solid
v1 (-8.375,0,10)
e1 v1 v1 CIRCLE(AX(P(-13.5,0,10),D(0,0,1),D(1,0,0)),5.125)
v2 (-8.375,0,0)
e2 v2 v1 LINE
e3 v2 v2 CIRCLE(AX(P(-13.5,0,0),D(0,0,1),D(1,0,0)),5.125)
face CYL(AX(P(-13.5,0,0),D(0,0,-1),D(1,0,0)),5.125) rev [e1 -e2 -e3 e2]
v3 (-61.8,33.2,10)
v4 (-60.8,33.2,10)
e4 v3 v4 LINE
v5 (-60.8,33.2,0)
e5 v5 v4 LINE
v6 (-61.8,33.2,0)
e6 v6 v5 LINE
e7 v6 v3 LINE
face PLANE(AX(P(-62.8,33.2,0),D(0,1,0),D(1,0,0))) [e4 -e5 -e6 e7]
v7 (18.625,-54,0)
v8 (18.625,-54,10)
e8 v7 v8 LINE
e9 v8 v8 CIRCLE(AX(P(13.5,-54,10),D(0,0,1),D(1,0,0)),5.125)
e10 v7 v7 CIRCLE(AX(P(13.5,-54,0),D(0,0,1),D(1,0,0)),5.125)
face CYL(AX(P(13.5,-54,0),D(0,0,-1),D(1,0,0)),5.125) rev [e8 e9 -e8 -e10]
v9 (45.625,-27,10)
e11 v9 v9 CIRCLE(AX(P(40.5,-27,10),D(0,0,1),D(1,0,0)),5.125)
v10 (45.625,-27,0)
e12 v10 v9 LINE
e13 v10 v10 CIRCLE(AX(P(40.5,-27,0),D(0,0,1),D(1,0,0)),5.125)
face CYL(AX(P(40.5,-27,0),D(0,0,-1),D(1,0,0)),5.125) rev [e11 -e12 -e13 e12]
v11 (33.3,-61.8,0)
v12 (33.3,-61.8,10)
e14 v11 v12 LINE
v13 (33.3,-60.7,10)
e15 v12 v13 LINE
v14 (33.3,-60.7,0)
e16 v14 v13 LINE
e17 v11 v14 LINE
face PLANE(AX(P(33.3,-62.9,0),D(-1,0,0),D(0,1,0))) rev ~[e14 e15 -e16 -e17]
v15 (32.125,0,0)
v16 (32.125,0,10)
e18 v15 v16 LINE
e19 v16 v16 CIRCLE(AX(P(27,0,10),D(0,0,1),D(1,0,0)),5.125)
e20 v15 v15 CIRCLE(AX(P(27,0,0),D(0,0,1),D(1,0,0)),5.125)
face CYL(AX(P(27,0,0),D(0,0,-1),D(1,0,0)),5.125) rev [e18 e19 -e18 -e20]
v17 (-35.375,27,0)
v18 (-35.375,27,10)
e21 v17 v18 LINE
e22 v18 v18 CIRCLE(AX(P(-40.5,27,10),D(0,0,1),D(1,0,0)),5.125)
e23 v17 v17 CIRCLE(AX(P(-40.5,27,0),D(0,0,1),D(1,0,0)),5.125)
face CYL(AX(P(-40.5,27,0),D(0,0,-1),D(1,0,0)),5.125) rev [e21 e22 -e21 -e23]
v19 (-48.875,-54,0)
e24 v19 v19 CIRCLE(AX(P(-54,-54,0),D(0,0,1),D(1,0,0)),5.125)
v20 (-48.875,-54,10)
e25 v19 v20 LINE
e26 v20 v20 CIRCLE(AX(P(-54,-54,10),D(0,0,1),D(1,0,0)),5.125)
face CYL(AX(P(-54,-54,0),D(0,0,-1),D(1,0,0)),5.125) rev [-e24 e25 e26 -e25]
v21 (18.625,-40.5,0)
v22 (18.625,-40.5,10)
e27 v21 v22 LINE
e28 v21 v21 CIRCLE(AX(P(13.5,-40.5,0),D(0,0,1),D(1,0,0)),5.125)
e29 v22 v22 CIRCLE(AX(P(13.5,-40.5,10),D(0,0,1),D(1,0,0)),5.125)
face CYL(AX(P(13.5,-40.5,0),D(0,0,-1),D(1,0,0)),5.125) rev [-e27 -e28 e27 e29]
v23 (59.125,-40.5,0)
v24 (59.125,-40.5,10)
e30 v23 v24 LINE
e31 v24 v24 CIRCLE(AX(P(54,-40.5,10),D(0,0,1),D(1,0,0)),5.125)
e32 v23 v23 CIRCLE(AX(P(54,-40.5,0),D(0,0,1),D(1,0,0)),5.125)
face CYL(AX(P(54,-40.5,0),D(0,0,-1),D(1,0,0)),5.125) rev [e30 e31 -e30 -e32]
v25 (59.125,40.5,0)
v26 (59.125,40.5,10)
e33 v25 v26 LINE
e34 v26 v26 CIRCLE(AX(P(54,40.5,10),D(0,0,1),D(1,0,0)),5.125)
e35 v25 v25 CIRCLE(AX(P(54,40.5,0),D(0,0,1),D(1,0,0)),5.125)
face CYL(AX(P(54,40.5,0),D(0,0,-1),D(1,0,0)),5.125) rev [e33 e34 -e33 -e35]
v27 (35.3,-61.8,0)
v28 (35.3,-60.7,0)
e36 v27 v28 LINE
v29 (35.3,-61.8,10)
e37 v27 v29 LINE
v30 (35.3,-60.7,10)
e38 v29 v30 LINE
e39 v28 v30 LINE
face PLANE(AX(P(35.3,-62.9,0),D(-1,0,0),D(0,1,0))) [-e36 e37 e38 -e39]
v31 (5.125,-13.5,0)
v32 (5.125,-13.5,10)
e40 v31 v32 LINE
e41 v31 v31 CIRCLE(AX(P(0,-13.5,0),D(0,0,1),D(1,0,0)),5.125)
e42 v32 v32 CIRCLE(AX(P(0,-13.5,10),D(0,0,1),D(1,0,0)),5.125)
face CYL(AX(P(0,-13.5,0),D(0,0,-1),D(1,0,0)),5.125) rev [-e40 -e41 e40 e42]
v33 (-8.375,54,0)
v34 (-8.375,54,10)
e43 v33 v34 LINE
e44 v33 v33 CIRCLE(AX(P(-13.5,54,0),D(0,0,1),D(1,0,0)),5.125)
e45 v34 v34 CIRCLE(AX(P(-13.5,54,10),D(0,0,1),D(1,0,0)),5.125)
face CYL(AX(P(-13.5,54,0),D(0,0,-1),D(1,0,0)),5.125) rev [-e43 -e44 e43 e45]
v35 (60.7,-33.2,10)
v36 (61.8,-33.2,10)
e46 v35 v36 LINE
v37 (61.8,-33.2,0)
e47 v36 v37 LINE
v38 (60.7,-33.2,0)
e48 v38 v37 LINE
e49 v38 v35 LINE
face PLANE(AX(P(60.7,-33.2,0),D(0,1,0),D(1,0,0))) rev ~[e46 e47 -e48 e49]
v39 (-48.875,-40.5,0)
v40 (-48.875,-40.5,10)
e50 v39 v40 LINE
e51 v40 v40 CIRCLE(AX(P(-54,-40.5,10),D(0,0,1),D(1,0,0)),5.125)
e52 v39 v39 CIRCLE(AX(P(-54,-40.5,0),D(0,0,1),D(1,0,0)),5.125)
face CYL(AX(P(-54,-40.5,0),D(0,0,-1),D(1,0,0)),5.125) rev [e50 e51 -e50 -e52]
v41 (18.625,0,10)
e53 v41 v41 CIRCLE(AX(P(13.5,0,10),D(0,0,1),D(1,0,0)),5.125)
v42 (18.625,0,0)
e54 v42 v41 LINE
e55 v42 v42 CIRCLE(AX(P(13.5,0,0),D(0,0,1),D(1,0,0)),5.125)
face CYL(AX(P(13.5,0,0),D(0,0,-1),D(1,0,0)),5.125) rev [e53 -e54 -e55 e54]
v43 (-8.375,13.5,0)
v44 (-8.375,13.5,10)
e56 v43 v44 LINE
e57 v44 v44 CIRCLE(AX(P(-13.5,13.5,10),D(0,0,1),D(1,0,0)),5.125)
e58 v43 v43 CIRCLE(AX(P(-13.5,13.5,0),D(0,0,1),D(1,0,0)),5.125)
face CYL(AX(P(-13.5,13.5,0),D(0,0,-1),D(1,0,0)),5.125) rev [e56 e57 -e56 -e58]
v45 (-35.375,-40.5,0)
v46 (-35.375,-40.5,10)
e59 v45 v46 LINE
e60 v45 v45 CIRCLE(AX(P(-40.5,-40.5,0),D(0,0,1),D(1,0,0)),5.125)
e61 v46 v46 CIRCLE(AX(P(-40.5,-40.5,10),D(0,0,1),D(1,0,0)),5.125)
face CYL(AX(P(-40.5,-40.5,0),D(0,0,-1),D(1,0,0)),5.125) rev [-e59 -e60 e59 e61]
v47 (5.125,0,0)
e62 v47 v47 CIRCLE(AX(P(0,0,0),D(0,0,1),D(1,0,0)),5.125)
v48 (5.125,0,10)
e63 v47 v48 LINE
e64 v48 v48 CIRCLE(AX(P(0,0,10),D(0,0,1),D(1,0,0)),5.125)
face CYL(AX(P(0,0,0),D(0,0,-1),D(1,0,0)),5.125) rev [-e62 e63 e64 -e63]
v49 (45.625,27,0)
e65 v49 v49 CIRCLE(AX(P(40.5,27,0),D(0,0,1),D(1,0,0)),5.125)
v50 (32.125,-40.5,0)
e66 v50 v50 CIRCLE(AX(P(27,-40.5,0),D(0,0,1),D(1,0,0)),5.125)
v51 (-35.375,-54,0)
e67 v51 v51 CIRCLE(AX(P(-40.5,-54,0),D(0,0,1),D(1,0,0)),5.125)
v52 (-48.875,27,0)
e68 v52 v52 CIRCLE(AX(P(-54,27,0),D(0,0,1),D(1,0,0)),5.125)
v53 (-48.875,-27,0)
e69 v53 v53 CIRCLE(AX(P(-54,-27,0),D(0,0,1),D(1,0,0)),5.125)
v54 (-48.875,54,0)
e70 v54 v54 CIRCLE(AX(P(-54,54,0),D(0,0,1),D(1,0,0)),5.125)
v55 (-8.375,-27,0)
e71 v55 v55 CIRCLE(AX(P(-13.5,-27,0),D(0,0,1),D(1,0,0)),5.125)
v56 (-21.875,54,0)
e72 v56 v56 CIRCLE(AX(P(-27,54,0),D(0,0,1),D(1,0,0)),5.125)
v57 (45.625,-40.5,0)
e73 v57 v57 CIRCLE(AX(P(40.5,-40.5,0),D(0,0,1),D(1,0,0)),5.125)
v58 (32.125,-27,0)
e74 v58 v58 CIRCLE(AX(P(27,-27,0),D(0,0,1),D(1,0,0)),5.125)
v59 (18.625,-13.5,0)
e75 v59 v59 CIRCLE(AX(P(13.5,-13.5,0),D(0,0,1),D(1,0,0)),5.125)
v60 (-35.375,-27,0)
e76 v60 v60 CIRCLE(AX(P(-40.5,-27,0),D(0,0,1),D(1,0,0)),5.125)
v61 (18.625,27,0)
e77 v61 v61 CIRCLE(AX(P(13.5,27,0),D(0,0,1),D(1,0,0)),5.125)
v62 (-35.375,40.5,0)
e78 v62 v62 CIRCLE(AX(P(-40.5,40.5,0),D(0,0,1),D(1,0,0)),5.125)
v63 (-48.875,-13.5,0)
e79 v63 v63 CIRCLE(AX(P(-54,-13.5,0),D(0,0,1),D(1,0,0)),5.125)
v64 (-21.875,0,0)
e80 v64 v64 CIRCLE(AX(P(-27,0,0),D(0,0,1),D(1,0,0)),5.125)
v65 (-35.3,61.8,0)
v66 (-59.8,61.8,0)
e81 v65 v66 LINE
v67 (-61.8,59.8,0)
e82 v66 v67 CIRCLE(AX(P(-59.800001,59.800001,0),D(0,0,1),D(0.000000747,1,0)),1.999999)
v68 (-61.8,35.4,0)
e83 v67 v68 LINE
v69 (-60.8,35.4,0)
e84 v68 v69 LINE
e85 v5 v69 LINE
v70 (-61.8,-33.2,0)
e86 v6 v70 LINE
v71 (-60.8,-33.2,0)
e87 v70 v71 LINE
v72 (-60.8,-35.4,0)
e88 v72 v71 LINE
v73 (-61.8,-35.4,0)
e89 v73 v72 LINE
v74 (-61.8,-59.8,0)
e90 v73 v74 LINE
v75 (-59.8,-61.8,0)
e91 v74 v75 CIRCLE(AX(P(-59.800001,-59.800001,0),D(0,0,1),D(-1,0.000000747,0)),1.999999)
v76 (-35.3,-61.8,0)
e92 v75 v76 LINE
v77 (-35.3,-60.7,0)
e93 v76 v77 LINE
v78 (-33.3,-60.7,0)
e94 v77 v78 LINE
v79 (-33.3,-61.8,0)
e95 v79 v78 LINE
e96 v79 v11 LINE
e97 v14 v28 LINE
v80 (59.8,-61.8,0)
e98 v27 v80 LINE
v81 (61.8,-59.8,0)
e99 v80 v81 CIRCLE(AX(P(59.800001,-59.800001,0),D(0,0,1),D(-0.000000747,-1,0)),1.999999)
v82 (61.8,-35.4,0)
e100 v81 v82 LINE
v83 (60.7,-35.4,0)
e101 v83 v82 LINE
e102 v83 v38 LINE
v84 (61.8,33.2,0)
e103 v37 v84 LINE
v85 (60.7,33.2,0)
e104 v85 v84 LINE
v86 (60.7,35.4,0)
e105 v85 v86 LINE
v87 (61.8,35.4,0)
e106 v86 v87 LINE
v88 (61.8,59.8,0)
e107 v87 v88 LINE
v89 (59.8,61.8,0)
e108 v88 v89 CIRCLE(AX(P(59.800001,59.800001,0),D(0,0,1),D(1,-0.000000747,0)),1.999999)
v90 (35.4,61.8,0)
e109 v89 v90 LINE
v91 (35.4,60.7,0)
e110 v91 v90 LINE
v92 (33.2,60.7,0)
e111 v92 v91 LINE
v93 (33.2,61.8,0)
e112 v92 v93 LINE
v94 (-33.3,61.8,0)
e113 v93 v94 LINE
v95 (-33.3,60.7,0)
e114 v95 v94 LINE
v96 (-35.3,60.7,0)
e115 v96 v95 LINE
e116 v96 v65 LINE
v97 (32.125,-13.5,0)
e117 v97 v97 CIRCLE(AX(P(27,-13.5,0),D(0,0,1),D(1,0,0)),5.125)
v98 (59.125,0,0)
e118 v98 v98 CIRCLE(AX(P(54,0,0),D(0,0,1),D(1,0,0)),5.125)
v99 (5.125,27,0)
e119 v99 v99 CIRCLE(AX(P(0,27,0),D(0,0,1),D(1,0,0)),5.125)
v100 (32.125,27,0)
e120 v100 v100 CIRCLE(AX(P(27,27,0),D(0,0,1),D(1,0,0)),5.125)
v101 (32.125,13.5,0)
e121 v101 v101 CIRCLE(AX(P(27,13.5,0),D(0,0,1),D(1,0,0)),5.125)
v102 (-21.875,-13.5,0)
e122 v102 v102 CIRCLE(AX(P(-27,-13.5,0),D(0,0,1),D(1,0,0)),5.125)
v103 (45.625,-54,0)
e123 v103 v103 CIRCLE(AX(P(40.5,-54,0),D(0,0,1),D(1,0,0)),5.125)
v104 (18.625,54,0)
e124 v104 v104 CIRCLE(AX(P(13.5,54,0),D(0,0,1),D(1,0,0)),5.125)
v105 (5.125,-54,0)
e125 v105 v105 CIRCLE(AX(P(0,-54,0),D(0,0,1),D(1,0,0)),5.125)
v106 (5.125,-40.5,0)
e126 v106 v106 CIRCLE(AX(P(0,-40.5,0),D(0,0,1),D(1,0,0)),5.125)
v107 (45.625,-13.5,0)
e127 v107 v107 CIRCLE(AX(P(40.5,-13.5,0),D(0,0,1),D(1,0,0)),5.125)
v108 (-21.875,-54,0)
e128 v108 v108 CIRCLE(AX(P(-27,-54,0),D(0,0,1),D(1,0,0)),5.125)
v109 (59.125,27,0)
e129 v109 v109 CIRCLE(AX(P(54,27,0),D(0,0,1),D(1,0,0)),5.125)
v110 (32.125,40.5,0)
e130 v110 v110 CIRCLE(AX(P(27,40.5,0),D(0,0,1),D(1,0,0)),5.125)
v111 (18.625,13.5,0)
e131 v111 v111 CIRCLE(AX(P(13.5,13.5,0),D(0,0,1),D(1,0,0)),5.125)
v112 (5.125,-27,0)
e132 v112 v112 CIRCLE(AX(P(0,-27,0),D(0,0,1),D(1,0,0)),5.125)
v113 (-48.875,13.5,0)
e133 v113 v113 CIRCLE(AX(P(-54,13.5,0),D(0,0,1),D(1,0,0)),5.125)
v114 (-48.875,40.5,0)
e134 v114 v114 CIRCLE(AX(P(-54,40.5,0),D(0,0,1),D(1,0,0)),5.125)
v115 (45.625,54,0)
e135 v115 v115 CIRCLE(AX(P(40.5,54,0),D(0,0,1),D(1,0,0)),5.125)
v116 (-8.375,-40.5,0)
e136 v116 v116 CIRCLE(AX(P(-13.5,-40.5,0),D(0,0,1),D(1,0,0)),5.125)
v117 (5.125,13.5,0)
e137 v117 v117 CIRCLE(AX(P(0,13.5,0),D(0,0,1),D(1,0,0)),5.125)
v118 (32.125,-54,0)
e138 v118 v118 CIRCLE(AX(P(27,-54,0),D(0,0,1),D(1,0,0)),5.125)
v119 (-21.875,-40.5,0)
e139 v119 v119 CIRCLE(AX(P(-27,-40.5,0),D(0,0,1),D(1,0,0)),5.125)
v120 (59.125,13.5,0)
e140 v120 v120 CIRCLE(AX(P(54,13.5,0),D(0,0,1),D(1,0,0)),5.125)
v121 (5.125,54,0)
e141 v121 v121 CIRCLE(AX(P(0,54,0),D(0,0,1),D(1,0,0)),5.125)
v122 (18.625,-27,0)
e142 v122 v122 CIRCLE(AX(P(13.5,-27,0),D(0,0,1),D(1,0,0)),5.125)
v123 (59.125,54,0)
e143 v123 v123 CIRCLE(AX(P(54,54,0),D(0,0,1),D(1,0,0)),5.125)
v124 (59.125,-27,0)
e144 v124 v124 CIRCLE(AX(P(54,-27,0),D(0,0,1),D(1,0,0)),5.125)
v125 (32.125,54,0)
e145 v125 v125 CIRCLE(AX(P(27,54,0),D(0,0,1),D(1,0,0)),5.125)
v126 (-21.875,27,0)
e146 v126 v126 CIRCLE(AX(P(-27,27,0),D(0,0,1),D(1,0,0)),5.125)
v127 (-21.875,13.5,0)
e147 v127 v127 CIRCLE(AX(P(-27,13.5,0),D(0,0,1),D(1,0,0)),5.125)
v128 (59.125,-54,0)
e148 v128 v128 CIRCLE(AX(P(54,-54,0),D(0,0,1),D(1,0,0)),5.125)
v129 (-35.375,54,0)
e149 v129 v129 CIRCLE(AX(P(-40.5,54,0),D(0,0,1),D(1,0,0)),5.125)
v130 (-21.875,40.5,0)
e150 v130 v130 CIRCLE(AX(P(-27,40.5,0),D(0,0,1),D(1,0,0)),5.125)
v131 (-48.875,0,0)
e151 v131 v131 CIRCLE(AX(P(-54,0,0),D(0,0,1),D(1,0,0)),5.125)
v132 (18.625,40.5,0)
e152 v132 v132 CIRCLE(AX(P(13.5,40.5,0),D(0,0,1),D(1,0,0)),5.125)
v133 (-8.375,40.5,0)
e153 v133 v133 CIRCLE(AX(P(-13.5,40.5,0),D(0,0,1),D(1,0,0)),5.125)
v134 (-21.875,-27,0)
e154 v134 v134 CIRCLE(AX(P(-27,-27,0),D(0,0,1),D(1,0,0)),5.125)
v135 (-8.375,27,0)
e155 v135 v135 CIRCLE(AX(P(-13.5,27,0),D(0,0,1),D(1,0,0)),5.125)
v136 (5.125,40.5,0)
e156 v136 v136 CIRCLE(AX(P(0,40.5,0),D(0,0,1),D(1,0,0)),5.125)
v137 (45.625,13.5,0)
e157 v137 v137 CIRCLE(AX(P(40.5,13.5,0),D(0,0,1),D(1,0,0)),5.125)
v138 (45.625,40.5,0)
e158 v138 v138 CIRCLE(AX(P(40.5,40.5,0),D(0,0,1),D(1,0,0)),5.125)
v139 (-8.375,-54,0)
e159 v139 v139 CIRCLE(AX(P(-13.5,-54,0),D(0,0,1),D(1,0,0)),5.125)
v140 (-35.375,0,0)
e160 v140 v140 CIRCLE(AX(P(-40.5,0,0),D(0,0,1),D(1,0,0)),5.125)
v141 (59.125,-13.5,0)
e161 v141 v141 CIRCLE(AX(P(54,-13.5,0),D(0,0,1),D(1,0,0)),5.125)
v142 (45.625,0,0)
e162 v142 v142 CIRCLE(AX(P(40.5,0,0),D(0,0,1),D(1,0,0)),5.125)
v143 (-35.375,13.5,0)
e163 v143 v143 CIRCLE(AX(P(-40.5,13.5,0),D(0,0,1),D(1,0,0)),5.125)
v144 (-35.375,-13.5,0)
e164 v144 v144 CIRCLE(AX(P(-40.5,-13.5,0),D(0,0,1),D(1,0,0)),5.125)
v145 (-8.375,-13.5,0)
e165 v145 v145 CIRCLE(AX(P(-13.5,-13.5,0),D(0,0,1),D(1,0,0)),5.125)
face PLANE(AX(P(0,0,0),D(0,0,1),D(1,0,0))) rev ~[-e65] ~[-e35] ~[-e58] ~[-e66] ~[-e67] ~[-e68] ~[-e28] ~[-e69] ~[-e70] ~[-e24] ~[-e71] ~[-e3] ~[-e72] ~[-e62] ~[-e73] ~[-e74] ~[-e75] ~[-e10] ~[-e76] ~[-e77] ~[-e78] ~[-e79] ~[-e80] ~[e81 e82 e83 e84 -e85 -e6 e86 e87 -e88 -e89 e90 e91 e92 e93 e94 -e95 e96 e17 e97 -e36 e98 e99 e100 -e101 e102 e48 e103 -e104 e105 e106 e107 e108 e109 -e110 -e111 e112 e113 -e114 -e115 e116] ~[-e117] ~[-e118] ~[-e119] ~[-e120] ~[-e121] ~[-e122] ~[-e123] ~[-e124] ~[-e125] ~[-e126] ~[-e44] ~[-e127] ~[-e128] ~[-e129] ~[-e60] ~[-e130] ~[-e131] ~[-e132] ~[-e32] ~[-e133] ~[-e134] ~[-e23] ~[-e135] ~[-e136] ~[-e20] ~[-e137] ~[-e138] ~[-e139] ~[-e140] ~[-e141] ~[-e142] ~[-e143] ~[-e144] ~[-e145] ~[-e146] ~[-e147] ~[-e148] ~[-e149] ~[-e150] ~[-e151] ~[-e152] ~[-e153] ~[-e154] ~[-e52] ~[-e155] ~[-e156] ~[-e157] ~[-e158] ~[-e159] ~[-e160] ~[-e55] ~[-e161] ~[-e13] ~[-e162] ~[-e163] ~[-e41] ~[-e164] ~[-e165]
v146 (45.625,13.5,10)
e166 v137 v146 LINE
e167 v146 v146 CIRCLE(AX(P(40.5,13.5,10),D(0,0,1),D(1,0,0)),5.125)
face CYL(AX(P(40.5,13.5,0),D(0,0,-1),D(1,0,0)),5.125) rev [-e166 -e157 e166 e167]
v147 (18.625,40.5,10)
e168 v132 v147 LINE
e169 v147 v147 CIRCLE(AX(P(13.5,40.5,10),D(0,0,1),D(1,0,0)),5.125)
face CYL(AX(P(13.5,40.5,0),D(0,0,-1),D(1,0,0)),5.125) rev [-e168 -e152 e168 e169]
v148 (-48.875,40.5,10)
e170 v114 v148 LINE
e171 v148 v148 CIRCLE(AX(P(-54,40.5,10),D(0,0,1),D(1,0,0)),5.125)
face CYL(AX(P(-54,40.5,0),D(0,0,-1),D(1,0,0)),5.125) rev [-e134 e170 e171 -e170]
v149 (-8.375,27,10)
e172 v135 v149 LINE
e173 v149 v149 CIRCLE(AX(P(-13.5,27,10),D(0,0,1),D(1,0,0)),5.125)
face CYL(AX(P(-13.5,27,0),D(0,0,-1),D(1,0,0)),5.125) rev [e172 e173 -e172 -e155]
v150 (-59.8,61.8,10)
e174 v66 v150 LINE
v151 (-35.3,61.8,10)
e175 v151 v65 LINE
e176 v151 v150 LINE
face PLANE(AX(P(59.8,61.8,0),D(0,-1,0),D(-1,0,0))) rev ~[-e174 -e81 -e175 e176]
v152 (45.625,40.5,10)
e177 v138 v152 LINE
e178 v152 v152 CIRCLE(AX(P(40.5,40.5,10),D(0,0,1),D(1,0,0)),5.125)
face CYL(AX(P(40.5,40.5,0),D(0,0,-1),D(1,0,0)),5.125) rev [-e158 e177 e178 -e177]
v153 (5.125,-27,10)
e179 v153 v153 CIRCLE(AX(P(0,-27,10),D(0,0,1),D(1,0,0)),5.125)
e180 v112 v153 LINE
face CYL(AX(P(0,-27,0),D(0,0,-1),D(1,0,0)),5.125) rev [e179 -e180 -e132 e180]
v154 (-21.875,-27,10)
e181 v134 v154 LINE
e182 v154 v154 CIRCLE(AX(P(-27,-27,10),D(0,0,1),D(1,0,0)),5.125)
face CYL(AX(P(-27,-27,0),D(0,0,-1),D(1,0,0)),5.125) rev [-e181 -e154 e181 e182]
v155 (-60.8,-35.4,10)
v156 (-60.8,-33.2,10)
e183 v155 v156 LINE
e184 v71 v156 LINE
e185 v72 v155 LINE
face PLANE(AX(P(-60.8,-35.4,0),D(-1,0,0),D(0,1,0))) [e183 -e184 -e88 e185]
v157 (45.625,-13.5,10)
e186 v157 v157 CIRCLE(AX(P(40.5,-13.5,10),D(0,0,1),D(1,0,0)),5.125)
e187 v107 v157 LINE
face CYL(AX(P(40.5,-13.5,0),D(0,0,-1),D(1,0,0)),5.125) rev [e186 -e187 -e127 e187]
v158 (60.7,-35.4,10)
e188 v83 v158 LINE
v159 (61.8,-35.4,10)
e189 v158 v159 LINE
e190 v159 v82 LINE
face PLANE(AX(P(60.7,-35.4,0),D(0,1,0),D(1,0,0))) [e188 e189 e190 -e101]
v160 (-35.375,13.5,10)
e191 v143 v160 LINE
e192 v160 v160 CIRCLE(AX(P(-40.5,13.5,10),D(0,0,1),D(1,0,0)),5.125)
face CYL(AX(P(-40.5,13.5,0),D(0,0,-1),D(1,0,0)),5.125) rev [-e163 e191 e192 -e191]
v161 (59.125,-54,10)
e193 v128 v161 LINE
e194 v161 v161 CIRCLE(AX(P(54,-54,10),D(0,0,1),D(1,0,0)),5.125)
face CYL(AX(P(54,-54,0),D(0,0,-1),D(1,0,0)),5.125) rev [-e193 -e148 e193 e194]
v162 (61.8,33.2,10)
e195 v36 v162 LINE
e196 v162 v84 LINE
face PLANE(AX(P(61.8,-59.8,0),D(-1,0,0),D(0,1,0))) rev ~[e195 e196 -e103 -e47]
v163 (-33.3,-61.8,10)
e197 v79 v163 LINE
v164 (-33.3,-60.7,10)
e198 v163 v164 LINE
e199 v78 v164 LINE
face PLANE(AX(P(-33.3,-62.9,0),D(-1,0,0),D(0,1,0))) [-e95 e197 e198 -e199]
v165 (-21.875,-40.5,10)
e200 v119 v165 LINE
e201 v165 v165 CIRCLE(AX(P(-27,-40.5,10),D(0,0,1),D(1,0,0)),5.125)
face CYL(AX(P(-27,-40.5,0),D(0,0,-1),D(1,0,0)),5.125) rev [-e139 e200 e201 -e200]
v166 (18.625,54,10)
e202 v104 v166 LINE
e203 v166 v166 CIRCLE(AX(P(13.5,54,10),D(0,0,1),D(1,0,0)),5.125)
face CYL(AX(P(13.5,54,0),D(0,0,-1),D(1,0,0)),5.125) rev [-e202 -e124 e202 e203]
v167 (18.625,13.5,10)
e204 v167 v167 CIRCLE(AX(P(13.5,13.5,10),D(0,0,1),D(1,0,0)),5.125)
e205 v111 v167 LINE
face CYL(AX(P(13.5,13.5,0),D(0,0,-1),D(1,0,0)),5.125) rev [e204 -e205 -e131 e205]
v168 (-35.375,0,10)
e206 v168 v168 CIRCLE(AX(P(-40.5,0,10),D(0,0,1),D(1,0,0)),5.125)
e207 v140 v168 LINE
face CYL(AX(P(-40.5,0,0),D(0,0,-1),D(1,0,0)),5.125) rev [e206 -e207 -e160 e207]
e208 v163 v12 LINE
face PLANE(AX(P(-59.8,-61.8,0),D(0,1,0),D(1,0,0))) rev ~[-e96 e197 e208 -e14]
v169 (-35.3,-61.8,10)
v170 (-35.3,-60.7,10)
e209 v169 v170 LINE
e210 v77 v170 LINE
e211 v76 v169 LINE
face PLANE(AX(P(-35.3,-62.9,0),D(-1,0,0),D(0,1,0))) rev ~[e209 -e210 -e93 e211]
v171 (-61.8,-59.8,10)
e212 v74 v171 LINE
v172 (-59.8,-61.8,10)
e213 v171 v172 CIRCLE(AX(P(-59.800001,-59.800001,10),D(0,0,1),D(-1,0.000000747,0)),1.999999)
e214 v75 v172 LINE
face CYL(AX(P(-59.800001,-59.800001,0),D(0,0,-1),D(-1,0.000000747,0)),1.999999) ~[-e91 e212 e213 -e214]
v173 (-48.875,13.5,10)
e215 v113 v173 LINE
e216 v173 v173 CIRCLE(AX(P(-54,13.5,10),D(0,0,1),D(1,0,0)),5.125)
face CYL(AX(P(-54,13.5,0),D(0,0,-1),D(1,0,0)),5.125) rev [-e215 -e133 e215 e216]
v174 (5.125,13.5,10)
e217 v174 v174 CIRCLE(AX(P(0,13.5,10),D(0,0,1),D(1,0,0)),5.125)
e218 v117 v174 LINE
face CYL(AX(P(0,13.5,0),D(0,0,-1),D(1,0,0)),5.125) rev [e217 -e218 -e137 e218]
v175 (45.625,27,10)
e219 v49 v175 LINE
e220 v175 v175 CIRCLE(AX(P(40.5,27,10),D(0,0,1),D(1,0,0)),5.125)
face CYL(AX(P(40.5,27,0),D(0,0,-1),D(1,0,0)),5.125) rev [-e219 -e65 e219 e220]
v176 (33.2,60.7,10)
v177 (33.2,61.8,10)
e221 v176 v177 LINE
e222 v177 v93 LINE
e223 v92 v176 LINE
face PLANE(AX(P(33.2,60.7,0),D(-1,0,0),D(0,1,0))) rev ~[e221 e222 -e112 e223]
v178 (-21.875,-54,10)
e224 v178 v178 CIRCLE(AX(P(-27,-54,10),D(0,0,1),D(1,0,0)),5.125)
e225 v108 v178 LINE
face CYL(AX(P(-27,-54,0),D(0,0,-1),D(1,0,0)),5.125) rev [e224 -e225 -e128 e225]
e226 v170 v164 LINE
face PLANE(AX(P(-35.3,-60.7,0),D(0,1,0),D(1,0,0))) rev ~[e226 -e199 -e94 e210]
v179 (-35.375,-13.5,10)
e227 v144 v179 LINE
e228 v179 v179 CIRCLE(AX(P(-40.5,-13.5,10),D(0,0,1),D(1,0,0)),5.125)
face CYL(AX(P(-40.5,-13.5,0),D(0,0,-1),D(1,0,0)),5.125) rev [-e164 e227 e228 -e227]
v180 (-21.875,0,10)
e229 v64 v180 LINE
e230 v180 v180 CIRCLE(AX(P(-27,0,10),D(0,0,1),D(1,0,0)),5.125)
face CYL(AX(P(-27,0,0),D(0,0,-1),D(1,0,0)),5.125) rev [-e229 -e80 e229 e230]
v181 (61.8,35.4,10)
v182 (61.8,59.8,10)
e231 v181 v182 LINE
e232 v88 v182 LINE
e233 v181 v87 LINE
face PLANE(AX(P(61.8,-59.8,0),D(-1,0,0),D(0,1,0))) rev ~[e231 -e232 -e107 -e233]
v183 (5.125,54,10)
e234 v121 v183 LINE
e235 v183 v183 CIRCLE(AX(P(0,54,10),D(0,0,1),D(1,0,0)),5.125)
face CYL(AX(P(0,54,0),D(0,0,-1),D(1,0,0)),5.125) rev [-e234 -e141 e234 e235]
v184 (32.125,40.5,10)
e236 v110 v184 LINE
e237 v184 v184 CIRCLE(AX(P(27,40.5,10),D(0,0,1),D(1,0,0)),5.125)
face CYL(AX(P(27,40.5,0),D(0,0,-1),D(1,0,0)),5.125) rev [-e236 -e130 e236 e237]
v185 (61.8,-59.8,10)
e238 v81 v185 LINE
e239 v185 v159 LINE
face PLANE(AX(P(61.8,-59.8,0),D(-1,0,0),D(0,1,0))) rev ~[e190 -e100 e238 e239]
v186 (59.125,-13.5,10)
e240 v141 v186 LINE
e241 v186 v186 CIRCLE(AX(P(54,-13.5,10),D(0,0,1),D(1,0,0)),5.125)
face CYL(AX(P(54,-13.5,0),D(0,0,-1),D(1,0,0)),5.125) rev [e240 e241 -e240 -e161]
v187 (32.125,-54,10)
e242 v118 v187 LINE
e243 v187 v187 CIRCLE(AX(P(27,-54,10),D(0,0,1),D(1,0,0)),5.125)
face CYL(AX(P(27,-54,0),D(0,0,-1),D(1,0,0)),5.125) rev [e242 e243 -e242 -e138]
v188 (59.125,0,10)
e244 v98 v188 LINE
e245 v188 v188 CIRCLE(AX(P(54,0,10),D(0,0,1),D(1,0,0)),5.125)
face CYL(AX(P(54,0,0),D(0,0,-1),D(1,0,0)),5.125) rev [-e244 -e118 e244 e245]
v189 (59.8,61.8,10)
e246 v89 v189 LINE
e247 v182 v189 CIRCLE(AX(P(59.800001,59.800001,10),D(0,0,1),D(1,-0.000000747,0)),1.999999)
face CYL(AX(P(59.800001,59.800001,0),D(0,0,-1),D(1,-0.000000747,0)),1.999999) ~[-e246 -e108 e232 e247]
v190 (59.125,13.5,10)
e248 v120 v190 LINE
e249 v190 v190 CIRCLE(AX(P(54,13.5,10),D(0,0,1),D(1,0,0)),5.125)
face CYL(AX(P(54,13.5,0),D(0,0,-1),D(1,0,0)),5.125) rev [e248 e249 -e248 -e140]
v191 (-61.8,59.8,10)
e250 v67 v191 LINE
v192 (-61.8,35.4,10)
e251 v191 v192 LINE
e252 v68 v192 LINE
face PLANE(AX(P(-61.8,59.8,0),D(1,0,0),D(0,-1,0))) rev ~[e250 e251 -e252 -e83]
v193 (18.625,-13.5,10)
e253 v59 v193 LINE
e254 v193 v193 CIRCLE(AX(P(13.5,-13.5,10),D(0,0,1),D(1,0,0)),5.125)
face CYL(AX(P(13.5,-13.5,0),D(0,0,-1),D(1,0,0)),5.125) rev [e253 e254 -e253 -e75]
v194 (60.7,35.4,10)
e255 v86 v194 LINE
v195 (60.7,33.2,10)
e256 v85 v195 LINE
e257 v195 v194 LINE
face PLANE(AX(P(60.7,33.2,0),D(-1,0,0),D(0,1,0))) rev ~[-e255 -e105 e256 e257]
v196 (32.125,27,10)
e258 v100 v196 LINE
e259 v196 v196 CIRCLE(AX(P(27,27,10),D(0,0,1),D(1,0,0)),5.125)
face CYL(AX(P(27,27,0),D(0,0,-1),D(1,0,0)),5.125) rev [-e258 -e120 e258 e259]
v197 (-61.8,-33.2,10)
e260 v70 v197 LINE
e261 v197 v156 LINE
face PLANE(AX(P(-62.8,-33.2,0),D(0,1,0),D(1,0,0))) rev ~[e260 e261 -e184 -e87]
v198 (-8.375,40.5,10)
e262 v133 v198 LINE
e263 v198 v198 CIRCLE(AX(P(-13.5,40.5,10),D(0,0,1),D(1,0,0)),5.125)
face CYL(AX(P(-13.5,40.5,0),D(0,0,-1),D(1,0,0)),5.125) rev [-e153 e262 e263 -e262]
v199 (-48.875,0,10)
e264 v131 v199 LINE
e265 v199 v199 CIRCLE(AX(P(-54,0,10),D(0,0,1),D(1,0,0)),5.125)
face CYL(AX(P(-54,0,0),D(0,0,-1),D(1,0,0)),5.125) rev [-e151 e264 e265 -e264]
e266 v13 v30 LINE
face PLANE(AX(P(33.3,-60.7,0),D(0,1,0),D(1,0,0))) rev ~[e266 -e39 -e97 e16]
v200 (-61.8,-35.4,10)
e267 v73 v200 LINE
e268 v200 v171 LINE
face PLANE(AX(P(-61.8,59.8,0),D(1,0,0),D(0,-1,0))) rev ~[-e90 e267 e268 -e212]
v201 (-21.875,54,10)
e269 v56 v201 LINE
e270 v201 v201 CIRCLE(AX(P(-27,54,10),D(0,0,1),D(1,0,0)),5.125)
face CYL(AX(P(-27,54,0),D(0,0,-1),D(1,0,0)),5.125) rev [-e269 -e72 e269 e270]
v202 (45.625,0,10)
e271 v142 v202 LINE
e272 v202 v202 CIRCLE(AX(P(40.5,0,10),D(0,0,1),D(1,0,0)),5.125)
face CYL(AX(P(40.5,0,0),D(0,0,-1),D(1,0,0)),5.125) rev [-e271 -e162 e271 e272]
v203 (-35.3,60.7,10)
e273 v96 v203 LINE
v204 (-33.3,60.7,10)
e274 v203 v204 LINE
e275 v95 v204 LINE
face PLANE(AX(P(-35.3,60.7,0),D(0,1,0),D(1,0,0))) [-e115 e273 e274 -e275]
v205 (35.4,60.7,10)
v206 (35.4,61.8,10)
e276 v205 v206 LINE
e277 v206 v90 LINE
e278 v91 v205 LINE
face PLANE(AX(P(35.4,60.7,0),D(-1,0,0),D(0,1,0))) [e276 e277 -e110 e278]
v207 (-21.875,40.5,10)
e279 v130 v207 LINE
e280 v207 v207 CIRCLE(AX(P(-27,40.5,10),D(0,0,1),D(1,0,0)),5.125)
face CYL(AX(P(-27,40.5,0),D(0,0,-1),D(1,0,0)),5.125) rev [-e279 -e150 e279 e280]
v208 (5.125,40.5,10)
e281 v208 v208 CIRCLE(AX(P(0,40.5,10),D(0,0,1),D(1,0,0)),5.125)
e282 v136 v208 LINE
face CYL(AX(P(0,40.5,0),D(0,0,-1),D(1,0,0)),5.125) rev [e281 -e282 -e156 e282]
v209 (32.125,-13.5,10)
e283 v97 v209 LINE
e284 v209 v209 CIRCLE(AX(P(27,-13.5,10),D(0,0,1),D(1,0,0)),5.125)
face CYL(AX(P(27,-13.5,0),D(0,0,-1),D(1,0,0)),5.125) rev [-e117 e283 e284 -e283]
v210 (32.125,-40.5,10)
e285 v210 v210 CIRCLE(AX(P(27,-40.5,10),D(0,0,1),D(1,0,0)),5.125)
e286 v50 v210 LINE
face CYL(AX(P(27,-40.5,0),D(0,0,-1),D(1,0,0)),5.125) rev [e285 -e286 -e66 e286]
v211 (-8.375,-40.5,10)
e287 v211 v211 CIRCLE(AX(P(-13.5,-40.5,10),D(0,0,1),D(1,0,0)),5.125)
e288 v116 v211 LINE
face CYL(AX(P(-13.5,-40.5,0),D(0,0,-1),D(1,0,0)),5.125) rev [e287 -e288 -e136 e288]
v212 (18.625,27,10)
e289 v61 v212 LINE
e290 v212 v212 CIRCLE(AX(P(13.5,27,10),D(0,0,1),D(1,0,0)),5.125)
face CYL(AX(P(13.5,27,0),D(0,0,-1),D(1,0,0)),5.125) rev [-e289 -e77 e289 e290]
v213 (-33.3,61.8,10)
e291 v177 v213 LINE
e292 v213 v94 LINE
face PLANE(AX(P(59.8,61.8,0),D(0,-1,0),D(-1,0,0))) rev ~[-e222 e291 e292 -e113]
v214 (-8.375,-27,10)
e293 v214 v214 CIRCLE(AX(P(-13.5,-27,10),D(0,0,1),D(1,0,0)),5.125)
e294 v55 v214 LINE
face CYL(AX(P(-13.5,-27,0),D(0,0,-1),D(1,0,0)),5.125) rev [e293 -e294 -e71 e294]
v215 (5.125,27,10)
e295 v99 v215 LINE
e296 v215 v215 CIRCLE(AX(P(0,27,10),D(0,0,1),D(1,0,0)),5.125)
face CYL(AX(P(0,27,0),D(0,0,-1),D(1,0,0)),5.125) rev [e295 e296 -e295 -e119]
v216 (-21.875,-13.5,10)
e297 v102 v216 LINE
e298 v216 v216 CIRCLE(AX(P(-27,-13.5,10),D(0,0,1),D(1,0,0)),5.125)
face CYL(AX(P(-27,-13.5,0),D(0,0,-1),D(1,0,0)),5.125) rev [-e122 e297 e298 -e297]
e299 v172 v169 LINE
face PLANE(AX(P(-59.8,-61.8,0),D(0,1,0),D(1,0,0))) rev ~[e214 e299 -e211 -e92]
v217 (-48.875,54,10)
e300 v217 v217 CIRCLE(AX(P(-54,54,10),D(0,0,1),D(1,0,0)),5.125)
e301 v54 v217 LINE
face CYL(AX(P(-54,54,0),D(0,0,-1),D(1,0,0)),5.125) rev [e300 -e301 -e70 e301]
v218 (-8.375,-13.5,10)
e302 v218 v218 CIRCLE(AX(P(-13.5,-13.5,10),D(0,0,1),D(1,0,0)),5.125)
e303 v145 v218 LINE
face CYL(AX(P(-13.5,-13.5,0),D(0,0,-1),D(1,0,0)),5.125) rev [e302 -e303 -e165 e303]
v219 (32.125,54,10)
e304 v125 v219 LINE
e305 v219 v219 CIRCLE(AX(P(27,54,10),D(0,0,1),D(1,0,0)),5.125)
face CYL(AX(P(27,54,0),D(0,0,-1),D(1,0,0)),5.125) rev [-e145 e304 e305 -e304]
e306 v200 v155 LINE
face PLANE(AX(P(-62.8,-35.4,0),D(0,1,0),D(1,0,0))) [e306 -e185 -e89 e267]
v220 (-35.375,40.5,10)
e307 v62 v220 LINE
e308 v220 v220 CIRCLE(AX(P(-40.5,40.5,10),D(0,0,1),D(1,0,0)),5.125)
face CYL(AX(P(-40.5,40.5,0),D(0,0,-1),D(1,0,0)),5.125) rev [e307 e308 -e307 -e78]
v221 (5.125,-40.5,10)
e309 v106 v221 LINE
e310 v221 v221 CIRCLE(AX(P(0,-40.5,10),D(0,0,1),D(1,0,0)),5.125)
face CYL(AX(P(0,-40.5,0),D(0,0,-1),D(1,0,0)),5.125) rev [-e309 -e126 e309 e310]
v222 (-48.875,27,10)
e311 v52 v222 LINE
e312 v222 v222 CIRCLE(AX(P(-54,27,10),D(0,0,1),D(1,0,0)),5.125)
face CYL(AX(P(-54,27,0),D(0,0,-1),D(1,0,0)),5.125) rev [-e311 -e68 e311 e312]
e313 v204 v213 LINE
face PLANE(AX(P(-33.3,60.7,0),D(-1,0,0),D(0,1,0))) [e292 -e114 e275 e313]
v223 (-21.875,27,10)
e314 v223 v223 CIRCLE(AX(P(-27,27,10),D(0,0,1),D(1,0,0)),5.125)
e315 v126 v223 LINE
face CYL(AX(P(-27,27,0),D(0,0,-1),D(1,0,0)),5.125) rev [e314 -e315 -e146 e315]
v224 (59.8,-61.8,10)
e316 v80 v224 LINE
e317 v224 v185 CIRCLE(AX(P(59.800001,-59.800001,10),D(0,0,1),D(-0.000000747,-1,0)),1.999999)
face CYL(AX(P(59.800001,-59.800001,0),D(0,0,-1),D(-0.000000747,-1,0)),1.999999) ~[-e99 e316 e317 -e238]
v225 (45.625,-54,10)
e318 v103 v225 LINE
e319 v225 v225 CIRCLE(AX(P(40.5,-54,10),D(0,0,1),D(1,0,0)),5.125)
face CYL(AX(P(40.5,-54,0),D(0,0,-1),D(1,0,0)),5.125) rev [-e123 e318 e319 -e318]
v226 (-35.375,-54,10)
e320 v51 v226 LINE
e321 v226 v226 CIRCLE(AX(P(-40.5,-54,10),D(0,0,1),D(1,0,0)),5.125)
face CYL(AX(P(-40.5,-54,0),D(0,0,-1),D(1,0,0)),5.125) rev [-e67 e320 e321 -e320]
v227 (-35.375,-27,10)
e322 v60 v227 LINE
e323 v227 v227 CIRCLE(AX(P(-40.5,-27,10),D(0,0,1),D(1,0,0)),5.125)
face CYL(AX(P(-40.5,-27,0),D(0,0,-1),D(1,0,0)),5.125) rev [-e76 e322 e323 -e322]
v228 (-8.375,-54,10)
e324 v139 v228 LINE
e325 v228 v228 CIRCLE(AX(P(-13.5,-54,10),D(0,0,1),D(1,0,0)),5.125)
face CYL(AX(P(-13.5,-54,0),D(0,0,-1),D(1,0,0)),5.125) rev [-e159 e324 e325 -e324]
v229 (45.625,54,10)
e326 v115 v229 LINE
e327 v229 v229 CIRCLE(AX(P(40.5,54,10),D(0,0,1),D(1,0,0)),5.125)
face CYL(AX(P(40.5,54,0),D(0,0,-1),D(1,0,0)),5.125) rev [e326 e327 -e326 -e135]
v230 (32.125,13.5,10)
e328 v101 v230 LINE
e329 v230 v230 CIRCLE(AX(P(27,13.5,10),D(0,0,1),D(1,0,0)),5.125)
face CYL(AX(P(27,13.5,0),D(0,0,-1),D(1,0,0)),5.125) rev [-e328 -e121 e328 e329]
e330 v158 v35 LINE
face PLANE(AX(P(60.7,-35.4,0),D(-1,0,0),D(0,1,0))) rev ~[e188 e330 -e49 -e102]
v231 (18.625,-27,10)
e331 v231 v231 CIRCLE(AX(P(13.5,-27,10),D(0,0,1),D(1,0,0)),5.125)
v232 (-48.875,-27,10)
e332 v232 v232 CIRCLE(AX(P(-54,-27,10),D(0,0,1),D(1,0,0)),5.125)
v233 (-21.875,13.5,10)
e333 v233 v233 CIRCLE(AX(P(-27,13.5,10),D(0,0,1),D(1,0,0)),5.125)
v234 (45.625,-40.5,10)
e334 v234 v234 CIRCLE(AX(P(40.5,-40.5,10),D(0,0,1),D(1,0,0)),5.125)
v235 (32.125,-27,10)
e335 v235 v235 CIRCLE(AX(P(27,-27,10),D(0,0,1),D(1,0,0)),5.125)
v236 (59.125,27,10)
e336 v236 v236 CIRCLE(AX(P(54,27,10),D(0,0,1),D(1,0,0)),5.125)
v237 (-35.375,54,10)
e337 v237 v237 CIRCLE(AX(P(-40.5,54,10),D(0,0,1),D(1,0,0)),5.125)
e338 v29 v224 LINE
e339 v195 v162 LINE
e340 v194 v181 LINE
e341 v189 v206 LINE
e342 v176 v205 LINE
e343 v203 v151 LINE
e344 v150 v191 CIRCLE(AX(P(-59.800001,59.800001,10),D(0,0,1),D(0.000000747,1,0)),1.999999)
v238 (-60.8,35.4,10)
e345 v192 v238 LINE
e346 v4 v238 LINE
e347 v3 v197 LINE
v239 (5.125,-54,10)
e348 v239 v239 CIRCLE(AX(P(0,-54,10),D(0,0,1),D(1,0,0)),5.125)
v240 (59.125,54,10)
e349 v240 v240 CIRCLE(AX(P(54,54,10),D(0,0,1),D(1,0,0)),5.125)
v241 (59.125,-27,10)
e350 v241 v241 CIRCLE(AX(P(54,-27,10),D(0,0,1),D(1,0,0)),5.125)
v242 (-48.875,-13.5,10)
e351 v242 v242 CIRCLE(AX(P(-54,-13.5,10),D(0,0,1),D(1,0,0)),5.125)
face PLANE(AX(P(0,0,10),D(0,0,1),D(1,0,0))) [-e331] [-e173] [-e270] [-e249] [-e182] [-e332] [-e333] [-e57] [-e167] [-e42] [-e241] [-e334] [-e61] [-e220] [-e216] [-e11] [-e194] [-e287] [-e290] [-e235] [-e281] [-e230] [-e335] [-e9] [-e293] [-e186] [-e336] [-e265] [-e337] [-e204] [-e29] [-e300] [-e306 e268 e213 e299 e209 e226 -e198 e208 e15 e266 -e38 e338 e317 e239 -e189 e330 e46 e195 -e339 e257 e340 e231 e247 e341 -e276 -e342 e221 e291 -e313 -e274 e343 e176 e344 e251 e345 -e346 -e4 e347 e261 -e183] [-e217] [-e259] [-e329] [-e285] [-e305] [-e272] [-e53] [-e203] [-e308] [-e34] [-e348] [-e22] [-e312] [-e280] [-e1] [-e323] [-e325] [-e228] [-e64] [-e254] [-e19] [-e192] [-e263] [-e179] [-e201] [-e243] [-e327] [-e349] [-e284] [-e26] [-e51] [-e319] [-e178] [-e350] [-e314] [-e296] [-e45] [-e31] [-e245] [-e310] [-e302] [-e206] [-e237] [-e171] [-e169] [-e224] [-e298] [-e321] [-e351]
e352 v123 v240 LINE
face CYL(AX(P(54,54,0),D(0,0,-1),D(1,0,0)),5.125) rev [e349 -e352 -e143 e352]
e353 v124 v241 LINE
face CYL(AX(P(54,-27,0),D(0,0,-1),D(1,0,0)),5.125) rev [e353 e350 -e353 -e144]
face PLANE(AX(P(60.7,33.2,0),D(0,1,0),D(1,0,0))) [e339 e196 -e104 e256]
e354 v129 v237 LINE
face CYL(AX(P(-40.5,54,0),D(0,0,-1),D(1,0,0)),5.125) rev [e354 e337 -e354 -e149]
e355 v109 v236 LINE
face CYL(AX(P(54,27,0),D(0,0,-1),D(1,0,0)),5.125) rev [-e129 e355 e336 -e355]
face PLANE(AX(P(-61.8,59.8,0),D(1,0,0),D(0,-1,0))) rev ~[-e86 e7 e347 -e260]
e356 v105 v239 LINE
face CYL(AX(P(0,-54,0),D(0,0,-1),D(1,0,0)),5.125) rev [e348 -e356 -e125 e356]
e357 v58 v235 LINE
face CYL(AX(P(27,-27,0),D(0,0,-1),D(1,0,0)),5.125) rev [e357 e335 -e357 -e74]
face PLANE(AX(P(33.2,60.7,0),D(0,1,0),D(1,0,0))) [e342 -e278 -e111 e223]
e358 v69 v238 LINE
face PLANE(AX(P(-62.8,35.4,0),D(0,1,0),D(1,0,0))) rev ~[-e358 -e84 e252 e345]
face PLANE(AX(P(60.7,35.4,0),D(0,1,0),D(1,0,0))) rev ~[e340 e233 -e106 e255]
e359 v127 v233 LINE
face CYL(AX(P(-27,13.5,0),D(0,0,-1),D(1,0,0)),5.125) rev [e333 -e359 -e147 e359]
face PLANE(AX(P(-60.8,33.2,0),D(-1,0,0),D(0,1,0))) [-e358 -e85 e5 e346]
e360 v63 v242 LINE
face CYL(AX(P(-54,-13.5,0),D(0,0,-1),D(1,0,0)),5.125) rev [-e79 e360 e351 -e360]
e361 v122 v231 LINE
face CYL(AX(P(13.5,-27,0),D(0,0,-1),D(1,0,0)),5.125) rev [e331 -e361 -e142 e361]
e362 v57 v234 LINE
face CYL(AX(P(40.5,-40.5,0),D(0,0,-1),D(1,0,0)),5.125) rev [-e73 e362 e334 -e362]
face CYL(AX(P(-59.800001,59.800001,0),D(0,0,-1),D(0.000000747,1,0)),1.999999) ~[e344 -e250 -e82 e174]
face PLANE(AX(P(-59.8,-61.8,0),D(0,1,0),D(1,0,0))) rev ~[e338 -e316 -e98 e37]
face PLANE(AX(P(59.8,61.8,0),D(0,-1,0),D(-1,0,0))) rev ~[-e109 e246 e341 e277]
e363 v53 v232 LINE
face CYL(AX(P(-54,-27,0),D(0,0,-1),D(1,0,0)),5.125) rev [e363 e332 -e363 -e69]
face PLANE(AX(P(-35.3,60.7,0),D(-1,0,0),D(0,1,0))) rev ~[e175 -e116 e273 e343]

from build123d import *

# Parameters (mm, degrees)
F0_R     = 5.125
F2_DEPTH = 10
F1_W     = 2
F1_H     = 2.2
F1_W_2   = 2.2
F3_DEPTH = 10


with BuildPart() as f2:
    # F0 (on Top) → F2 (new body)
    with BuildSketch(Plane.XY):
        with BuildLine():
            ThreePointArc((61.8, 59.8), (61.214214, 61.214214), (59.8, 61.8))
            Line((59.8, 61.8), (-59.8, 61.8))
            ThreePointArc((-59.8, 61.8), (-61.214214, 61.214214), (-61.8, 59.8))
            Line((-61.8, 59.8), (-61.8, -59.8))
            ThreePointArc((-61.8, -59.8), (-61.214214, -61.214214), (-59.8, -61.8))
            Line((-59.8, -61.8), (59.8, -61.8))
            ThreePointArc((59.8, -61.8), (61.214214, -61.214214), (61.8, -59.8))
            Line((61.8, -59.8), (61.8, 59.8))
        make_face()
        with Locations((-54, -54)):
            Circle(F0_R, mode=Mode.SUBTRACT)
        with Locations((-40.5, -54)):
            Circle(F0_R, mode=Mode.SUBTRACT)
        with Locations((-54, -40.5)):
            Circle(F0_R, mode=Mode.SUBTRACT)
        with Locations((-40.5, -40.5)):
            Circle(F0_R, mode=Mode.SUBTRACT)
        with Locations((-27, -54)):
            Circle(F0_R, mode=Mode.SUBTRACT)
        with Locations((-13.5, -54)):
            Circle(F0_R, mode=Mode.SUBTRACT)
        with Locations((-27, -40.5)):
            Circle(F0_R, mode=Mode.SUBTRACT)
        with Locations((-13.5, -40.5)):
            Circle(F0_R, mode=Mode.SUBTRACT)
        with Locations((-54, -27)):
            Circle(F0_R, mode=Mode.SUBTRACT)
        with Locations((-40.5, -27)):
            Circle(F0_R, mode=Mode.SUBTRACT)
        with Locations((-54, -13.5)):
            Circle(F0_R, mode=Mode.SUBTRACT)
        with Locations((-40.5, -13.5)):
            Circle(F0_R, mode=Mode.SUBTRACT)
        with Locations((-27, -27)):
            Circle(F0_R, mode=Mode.SUBTRACT)
        with Locations((-13.5, -27)):
            Circle(F0_R, mode=Mode.SUBTRACT)
        with Locations((-27, -13.5)):
            Circle(F0_R, mode=Mode.SUBTRACT)
        with Locations((-13.5, -13.5)):
            Circle(F0_R, mode=Mode.SUBTRACT)
        with Locations((0, -54)):
            Circle(F0_R, mode=Mode.SUBTRACT)
        with Locations((13.5, -54)):
            Circle(F0_R, mode=Mode.SUBTRACT)
        with Locations((27, -54)):
            Circle(F0_R, mode=Mode.SUBTRACT)
        with Locations((0, -40.5)):
            Circle(F0_R, mode=Mode.SUBTRACT)
        with Locations((13.5, -40.5)):
            Circle(F0_R, mode=Mode.SUBTRACT)
        with Locations((27, -40.5)):
            Circle(F0_R, mode=Mode.SUBTRACT)
        with Locations((40.5, -54)):
            Circle(F0_R, mode=Mode.SUBTRACT)
        with Locations((54, -54)):
            Circle(F0_R, mode=Mode.SUBTRACT)
        with Locations((40.5, -40.5)):
            Circle(F0_R, mode=Mode.SUBTRACT)
        with Locations((54, -40.5)):
            Circle(F0_R, mode=Mode.SUBTRACT)
        with Locations((0, -27)):
            Circle(F0_R, mode=Mode.SUBTRACT)
        with Locations((13.5, -27)):
            Circle(F0_R, mode=Mode.SUBTRACT)
        with Locations((27, -27)):
            Circle(F0_R, mode=Mode.SUBTRACT)
        with Locations((0, -13.5)):
            Circle(F0_R, mode=Mode.SUBTRACT)
        with Locations((13.5, -13.5)):
            Circle(F0_R, mode=Mode.SUBTRACT)
        with Locations((27, -13.5)):
            Circle(F0_R, mode=Mode.SUBTRACT)
        with Locations((40.5, -27)):
            Circle(F0_R, mode=Mode.SUBTRACT)
        with Locations((54, -27)):
            Circle(F0_R, mode=Mode.SUBTRACT)
        with Locations((40.5, -13.5)):
            Circle(F0_R, mode=Mode.SUBTRACT)
        with Locations((54, -13.5)):
            Circle(F0_R, mode=Mode.SUBTRACT)
        with Locations((-54, 0)):
            Circle(F0_R, mode=Mode.SUBTRACT)
        with Locations((-54, 13.5)):
            Circle(F0_R, mode=Mode.SUBTRACT)
        with Locations((-40.5, 0)):
            Circle(F0_R, mode=Mode.SUBTRACT)
        with Locations((-40.5, 13.5)):
            Circle(F0_R, mode=Mode.SUBTRACT)
        with Locations((-54, 27)):
            Circle(F0_R, mode=Mode.SUBTRACT)
        with Locations((-40.5, 27)):
            Circle(F0_R, mode=Mode.SUBTRACT)
        with Locations((-27, 0)):
            Circle(F0_R, mode=Mode.SUBTRACT)
        with Locations((-27, 13.5)):
            Circle(F0_R, mode=Mode.SUBTRACT)
        with Locations((-13.5, 0)):
            Circle(F0_R, mode=Mode.SUBTRACT)
        with Locations((-13.5, 13.5)):
            Circle(F0_R, mode=Mode.SUBTRACT)
        with Locations((-27, 27)):
            Circle(F0_R, mode=Mode.SUBTRACT)
        with Locations((-13.5, 27)):
            Circle(F0_R, mode=Mode.SUBTRACT)
        with Locations((-54, 40.5)):
            Circle(F0_R, mode=Mode.SUBTRACT)
        with Locations((-40.5, 40.5)):
            Circle(F0_R, mode=Mode.SUBTRACT)
        with Locations((-54, 54)):
            Circle(F0_R, mode=Mode.SUBTRACT)
        with Locations((-40.5, 54)):
            Circle(F0_R, mode=Mode.SUBTRACT)
        with Locations((-27, 40.5)):
            Circle(F0_R, mode=Mode.SUBTRACT)
        with Locations((-13.5, 40.5)):
            Circle(F0_R, mode=Mode.SUBTRACT)
        with Locations((-27, 54)):
            Circle(F0_R, mode=Mode.SUBTRACT)
        with Locations((-13.5, 54)):
            Circle(F0_R, mode=Mode.SUBTRACT)
        Circle(F0_R, mode=Mode.SUBTRACT)
        with Locations((13.5, 0)):
            Circle(F0_R, mode=Mode.SUBTRACT)
        with Locations((0, 13.5)):
            Circle(F0_R, mode=Mode.SUBTRACT)
        with Locations((13.5, 13.5)):
            Circle(F0_R, mode=Mode.SUBTRACT)
        with Locations((27, 0)):
            Circle(F0_R, mode=Mode.SUBTRACT)
        with Locations((27, 13.5)):
            Circle(F0_R, mode=Mode.SUBTRACT)
        with Locations((0, 27)):
            Circle(F0_R, mode=Mode.SUBTRACT)
        with Locations((13.5, 27)):
            Circle(F0_R, mode=Mode.SUBTRACT)
        with Locations((27, 27)):
            Circle(F0_R, mode=Mode.SUBTRACT)
        with Locations((40.5, 0)):
            Circle(F0_R, mode=Mode.SUBTRACT)
        with Locations((40.5, 13.5)):
            Circle(F0_R, mode=Mode.SUBTRACT)
        with Locations((54, 0)):
            Circle(F0_R, mode=Mode.SUBTRACT)
        with Locations((54, 13.5)):
            Circle(F0_R, mode=Mode.SUBTRACT)
        with Locations((40.5, 27)):
            Circle(F0_R, mode=Mode.SUBTRACT)
        with Locations((54, 27)):
            Circle(F0_R, mode=Mode.SUBTRACT)
        with Locations((0, 40.5)):
            Circle(F0_R, mode=Mode.SUBTRACT)
        with Locations((13.5, 40.5)):
            Circle(F0_R, mode=Mode.SUBTRACT)
        with Locations((27, 40.5)):
            Circle(F0_R, mode=Mode.SUBTRACT)
        with Locations((0, 54)):
            Circle(F0_R, mode=Mode.SUBTRACT)
        with Locations((13.5, 54)):
            Circle(F0_R, mode=Mode.SUBTRACT)
        with Locations((27, 54)):
            Circle(F0_R, mode=Mode.SUBTRACT)
        with Locations((40.5, 40.5)):
            Circle(F0_R, mode=Mode.SUBTRACT)
        with Locations((54, 40.5)):
            Circle(F0_R, mode=Mode.SUBTRACT)
        with Locations((40.5, 54)):
            Circle(F0_R, mode=Mode.SUBTRACT)
        with Locations((54, 54)):
            Circle(F0_R, mode=Mode.SUBTRACT)
    extrude(amount=F2_DEPTH)

    # F1 (on Top) → F3 (cut)
    with BuildSketch(Plane.XY):
        with Locations((-34.3, 61.8)):
            Rectangle(F1_W, F1_H)
        with Locations((34.3, 61.8)):
            Rectangle(F1_W_2, F1_H)
        with Locations((61.8, 34.3)):
            Rectangle(F1_W_2, F1_H)
        with Locations((61.8, -34.3)):
            Rectangle(F1_W_2, F1_H)
        with Locations((34.3, -61.8)):
            Rectangle(F1_W, F1_H)
        with Locations((-34.3, -61.8)):
            Rectangle(F1_W, F1_H)
        with Locations((-61.8, -34.3)):
            Rectangle(F1_W, F1_H)
        with Locations((-61.8, 34.3)):
            Rectangle(F1_W, F1_H)
    extrude(amount=F3_DEPTH, mode=Mode.SUBTRACT)


solid = f2.part
